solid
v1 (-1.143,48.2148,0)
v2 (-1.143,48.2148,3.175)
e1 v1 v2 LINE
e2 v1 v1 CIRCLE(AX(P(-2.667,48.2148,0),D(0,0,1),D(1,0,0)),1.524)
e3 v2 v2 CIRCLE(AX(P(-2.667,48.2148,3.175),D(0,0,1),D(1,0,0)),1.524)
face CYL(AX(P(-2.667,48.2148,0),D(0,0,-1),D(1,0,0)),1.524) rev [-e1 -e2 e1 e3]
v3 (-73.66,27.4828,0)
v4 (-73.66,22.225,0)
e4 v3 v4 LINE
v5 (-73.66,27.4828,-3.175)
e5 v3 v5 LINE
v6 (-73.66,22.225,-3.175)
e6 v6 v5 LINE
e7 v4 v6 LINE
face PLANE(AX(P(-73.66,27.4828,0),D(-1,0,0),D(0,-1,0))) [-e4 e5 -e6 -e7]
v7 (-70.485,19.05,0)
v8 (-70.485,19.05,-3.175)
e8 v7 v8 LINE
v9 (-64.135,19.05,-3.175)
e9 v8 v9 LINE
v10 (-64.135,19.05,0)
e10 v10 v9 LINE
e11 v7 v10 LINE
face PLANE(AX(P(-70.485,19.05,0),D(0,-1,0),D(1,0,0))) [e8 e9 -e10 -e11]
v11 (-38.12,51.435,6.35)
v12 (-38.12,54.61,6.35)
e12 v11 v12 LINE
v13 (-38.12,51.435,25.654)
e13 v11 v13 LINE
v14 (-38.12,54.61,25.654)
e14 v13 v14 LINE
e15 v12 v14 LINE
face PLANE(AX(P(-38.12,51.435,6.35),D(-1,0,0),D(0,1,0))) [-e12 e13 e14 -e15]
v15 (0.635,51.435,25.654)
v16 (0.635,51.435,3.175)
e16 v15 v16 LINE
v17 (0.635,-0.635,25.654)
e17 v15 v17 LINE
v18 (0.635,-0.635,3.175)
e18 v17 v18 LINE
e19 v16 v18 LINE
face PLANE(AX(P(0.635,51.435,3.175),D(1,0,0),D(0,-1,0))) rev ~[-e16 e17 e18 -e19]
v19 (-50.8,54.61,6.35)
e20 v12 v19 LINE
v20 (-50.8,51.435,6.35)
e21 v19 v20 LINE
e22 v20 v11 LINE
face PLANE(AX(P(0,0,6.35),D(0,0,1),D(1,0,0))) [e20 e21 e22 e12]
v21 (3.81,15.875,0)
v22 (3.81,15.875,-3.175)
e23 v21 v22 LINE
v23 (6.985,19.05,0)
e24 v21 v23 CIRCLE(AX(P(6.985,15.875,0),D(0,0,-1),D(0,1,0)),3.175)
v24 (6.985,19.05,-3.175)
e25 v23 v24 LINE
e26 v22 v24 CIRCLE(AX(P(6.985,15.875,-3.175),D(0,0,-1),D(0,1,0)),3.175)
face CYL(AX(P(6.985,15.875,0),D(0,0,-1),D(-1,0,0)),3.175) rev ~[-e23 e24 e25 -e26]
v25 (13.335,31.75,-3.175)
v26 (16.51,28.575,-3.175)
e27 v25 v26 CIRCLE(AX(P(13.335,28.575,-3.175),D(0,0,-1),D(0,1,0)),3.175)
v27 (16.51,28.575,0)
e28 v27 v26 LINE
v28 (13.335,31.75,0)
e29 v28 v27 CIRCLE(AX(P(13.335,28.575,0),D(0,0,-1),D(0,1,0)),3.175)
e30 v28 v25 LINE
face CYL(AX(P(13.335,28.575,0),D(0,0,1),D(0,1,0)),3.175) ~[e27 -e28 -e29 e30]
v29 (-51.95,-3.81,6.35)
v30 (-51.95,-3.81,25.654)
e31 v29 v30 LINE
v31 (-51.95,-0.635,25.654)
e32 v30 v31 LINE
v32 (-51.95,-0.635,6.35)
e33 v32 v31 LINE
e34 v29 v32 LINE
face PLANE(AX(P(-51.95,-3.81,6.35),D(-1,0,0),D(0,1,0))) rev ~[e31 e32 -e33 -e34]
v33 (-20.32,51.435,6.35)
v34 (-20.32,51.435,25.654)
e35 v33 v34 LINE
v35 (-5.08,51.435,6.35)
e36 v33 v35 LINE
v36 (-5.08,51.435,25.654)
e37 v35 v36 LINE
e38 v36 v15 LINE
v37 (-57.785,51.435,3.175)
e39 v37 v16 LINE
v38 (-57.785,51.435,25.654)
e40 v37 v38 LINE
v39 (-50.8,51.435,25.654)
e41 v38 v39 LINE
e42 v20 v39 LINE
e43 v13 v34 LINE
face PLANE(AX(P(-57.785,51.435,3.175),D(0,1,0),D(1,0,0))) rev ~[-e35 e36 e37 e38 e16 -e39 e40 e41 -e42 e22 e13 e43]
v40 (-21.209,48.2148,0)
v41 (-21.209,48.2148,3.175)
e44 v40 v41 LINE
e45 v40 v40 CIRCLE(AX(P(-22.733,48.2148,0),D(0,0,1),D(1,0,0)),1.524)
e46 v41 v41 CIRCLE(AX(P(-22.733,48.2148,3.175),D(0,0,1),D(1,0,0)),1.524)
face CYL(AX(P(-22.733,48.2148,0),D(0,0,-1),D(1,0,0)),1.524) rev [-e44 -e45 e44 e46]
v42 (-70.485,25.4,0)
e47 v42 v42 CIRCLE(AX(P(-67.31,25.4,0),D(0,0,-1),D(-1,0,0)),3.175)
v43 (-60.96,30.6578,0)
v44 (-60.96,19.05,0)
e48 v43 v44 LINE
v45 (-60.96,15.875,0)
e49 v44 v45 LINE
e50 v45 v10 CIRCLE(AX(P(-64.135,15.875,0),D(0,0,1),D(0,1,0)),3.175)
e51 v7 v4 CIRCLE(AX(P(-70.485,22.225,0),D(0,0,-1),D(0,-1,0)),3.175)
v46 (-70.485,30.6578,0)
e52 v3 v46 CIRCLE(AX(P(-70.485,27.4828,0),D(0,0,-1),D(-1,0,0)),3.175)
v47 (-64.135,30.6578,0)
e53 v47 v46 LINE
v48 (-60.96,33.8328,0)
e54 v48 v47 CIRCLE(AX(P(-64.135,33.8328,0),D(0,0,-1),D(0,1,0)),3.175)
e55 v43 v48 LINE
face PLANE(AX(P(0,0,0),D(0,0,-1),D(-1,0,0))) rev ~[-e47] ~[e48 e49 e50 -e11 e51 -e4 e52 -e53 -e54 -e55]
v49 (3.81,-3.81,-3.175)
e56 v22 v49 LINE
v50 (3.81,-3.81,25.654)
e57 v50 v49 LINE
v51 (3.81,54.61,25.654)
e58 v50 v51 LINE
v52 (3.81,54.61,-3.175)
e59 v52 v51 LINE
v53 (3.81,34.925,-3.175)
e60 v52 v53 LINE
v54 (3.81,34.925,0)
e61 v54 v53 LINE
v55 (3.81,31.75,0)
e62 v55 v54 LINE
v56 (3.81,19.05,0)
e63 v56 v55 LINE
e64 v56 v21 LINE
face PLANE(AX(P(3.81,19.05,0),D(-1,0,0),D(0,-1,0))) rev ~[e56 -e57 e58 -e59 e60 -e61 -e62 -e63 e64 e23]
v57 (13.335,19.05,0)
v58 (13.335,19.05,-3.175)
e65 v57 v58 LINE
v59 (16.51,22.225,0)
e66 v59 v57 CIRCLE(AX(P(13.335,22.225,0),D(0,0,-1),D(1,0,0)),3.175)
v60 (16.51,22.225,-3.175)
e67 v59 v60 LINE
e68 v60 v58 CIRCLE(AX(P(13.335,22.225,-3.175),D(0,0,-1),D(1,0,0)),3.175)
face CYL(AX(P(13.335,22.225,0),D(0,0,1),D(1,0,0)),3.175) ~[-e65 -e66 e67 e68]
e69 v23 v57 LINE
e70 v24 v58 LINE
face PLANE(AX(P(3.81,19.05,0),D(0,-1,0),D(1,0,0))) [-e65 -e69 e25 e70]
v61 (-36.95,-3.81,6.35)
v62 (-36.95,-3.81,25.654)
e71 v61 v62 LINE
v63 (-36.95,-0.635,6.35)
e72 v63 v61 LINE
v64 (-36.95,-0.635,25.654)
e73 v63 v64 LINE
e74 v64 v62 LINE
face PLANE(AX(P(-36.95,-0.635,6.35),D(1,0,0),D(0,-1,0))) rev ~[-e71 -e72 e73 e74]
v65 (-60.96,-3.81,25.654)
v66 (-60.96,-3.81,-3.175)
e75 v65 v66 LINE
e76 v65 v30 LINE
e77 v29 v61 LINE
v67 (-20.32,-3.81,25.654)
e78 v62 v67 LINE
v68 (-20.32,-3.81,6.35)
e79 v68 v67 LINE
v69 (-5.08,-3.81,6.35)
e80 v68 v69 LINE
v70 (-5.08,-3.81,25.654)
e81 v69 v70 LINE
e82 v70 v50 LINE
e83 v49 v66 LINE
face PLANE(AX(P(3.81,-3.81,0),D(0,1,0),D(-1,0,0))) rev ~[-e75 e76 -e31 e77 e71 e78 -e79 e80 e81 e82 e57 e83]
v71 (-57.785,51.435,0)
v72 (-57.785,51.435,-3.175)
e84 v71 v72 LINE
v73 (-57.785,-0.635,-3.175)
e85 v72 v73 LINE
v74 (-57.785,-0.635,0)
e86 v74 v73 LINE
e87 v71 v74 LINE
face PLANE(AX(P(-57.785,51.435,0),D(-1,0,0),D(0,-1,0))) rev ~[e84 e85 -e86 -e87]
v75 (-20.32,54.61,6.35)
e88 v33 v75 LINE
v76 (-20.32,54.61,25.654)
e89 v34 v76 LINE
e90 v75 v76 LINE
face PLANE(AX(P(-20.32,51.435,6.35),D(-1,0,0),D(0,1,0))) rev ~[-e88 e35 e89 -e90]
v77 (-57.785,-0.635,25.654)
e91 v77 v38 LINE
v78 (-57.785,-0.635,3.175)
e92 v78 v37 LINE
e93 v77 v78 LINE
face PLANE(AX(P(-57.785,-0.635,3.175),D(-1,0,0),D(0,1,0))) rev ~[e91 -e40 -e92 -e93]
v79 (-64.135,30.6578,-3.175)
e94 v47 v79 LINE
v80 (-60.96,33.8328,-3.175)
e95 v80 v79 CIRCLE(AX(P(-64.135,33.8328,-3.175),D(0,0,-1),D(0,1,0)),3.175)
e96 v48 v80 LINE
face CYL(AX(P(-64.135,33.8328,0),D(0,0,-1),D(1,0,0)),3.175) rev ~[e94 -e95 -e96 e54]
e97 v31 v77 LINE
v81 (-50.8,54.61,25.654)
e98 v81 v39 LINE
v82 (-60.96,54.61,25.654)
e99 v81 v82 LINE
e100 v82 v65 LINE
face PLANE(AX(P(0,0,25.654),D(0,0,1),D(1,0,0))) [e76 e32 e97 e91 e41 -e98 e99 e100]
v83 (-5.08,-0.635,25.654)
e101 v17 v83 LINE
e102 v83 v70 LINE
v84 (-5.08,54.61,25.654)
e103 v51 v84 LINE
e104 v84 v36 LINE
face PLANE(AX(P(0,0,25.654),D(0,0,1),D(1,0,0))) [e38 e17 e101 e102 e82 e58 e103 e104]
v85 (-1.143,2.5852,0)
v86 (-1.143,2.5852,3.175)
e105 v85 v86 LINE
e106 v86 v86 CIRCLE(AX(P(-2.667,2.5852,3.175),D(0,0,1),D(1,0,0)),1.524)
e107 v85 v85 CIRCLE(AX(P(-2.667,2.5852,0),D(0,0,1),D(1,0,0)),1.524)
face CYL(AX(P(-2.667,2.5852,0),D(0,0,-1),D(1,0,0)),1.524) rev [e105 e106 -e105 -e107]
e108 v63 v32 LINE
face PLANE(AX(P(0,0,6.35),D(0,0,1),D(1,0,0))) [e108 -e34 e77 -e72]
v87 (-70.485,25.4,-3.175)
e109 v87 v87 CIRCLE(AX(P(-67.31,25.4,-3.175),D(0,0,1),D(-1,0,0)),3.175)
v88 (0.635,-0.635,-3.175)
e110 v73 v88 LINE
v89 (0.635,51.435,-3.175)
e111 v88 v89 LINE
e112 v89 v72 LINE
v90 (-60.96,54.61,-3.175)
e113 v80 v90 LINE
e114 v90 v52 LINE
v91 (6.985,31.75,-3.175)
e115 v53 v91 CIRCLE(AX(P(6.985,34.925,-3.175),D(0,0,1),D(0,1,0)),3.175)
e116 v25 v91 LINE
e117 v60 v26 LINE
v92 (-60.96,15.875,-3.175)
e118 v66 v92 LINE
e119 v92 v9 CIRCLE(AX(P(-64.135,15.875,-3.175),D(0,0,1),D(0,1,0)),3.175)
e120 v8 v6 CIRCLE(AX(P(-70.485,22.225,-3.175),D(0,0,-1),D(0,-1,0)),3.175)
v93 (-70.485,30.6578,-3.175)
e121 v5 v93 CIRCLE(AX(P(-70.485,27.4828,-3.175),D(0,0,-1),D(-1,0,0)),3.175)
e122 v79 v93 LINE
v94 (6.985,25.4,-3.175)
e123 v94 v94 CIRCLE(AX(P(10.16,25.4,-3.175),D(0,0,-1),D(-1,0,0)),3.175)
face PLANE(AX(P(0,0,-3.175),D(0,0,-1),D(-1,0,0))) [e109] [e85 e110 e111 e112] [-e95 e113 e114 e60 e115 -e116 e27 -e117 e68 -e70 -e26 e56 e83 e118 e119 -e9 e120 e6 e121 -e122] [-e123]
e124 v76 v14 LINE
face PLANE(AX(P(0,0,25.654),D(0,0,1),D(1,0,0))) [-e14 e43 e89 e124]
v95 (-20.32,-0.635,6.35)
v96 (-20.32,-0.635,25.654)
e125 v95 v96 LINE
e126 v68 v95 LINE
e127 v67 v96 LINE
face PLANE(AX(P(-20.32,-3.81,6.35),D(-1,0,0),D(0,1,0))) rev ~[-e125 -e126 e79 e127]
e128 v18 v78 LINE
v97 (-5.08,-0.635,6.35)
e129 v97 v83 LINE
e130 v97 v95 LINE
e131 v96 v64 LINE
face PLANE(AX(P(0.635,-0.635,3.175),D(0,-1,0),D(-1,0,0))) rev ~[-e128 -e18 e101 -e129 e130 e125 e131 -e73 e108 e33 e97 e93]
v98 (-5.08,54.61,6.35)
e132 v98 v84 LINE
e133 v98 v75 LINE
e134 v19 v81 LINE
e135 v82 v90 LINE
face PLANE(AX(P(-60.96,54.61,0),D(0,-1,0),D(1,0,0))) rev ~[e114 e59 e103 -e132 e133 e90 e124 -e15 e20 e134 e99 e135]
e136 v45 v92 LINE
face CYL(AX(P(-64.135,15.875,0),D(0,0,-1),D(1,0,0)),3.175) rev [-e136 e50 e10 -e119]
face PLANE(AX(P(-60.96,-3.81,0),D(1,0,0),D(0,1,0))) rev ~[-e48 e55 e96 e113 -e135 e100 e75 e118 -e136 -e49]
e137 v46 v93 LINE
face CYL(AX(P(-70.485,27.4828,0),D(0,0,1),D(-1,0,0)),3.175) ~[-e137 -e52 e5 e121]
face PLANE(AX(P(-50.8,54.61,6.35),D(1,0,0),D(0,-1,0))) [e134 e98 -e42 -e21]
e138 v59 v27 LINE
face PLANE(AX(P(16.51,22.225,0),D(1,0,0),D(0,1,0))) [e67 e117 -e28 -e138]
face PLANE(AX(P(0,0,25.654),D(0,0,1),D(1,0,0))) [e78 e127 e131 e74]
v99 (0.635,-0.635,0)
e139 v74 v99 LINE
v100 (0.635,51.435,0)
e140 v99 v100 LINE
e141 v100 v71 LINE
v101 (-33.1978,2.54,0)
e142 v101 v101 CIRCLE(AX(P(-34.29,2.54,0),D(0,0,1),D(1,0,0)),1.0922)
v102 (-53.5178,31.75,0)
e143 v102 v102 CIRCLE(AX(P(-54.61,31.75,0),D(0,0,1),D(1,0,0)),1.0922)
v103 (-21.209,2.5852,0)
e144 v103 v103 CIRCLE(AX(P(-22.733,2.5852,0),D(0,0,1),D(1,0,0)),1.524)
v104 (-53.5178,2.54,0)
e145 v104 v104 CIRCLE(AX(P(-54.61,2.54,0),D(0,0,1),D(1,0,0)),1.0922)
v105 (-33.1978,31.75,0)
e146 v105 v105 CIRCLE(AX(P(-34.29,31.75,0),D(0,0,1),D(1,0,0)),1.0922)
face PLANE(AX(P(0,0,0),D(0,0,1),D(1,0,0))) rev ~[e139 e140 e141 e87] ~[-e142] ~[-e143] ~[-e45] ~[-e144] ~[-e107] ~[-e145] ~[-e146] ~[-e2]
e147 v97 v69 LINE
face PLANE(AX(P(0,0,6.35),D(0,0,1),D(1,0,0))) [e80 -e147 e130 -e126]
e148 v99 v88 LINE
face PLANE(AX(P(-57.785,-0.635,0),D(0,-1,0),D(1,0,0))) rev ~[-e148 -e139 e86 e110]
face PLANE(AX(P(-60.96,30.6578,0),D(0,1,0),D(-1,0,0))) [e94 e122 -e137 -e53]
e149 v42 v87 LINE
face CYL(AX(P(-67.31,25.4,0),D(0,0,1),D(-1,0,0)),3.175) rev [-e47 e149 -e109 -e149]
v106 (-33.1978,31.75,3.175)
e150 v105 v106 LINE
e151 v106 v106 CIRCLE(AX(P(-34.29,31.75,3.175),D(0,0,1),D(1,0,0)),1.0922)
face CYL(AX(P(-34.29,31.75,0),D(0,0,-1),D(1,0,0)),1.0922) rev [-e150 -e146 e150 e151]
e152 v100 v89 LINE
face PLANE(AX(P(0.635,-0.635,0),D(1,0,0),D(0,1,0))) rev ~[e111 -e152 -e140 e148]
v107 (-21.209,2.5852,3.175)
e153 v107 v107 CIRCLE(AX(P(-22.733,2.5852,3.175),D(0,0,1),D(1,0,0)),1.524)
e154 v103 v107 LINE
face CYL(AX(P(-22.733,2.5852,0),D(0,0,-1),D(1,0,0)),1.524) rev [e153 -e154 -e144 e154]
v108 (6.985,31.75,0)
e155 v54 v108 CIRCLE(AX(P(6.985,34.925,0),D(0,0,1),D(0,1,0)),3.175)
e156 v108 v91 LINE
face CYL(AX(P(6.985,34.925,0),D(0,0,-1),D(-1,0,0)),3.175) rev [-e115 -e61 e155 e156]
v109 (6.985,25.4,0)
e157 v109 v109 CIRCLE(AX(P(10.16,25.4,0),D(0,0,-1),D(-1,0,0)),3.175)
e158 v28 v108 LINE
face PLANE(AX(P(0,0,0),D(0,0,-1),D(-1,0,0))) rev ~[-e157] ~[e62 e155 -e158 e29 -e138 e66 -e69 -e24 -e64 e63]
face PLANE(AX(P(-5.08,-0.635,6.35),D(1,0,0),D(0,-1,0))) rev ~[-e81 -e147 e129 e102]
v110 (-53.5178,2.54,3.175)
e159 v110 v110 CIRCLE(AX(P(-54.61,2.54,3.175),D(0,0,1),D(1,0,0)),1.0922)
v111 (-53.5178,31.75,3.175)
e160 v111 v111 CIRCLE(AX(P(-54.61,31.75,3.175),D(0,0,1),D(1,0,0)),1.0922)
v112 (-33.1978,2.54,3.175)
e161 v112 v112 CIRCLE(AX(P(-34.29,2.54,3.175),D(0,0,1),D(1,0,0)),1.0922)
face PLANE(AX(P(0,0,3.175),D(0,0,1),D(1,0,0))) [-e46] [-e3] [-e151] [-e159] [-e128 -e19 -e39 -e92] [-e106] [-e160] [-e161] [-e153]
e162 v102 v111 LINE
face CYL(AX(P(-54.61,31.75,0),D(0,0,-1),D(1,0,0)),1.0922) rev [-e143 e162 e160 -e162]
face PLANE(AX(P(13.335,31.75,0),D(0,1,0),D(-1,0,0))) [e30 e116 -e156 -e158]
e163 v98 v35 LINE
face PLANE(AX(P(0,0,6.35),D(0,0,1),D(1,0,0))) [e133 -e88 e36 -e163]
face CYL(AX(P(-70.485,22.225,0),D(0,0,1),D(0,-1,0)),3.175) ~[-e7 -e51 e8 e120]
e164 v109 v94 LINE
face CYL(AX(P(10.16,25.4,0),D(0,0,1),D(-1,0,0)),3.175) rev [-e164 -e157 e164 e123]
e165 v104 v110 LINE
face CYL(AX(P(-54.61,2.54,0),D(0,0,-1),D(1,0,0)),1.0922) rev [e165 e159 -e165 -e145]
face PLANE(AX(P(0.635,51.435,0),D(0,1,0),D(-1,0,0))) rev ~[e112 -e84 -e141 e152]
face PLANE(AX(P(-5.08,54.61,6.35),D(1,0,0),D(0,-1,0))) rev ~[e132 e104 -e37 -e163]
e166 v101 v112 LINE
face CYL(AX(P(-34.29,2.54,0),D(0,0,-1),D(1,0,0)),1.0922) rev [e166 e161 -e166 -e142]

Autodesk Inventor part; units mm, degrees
ref_plane "YZ Plane" through (0, 0, 0) normal (1, 0, 0) x (0, 1, 0)
ref_plane "XZ Plane" through (0, 0, 0) normal (0, 1, 0) x (-1, 0, 0)
ref_plane "XY Plane" through (0, 0, 0) normal (0, 0, 1) x (1, 0, 0)
sketch "0" plane through (0, 0, 0) normal (0, 0, 1) x (1, 0, 0)
  line L0 (-1.8843, 38.1841) -> (-1.8843, 30.5641)
  line L1 (-1.8843, 30.5641) -> (-4.4243, 30.5641)
  line L2 (-4.4243, 30.5641) -> (-4.4243, 38.1841)
  line L3 (-4.4243, 38.1841) -> (-1.8843, 38.1841)
  line L4 (0, 50.8) -> (-25.4, 50.8)
  line L5 (-25.4, 50.8) -> (-25.4, 0)
  line L6 (-25.4, 0) -> (0, 0)
  line L7 (0, 0) -> (0, 50.8)
  line L8 (-20.2946, 10.414) -> (-20.2946, 28.194)
  line L9 (-20.2946, 28.194) -> (-5.1054, 28.194)
  line L10 (-5.1054, 28.194) -> (-5.1054, 10.414)
  line L11 (-5.1054, 10.414) -> (-5.08, 10.414)
  line L12 (-5.08, 10.414) -> (-5.08, 2.667)
  line L13 (-5.08, 2.667) -> (-20.32, 2.667)
  line L14 (-20.32, 2.667) -> (-20.32, 10.414)
  line L15 (-20.32, 10.414) -> (-20.2946, 10.414)
  line L16 (-20.32, 41.275) -> (-20.32, 49.022)
  line L17 (-20.32, 49.022) -> (-5.08, 49.022)
  line L18 (-5.08, 49.022) -> (-5.08, 41.275)
  line L19 (-5.08, 41.275) -> (-20.32, 41.275)
  circle A0 centre (-22.733, 2.5852) radius 1.524
  circle A1 centre (-2.667, 2.5852) radius 1.524
  circle A2 centre (-22.733, 48.2148) radius 1.524
  circle A3 centre (-2.667, 48.2148) radius 1.524
  line L20 (-51.95, 5.718) -> (-51.95, 1.218)
  line L21 (-36.95, 1.218) -> (-51.95, 1.218)
  line L22 (-36.95, 5.718) -> (-36.95, 1.218)
  line L23 (-36.95, 5.718) -> (-51.95, 5.718)
  circle A4 centre (-39.45, 3.468) radius 1.775
  circle A5 centre (-44.45, 3.468) radius 1.775
  circle A6 centre (-49.45, 3.468) radius 1.775
  line L24 (-36.95, 7.268) -> (-51.95, 7.268)
  circle A7 centre (-34.29, 2.54) radius 1.0922
  circle A8 centre (-54.61, 2.54) radius 1.0922
  circle A9 centre (-54.61, 31.75) radius 1.0922
  circle A10 centre (-34.29, 31.75) radius 1.0922
  line L25 (-48.655, 31.516) -> (-48.28, 32.141)
  line L26 (-48.28, 32.141) -> (-48.24, 32.141)
  line L27 (-48.24, 32.141) -> (-47.865, 31.516)
  line L28 (-47.865, 31.516) -> (-46.115, 31.516)
  line L29 (-46.115, 31.516) -> (-45.74, 32.141)
  line L30 (-45.74, 32.141) -> (-45.7, 32.141)
  line L31 (-45.7, 32.141) -> (-45.325, 31.516)
  line L32 (-45.325, 31.516) -> (-43.575, 31.516)
  line L33 (-43.575, 31.516) -> (-43.2, 32.141)
  line L34 (-43.2, 32.141) -> (-43.16, 32.141)
  line L35 (-43.16, 32.141) -> (-42.785, 31.516)
  line L36 (-42.785, 31.516) -> (-41.035, 31.516)
  line L37 (-41.035, 31.516) -> (-40.66, 32.141)
  line L38 (-40.66, 32.141) -> (-40.62, 32.141)
  line L39 (-40.62, 32.141) -> (-40.245, 31.516)
  line L40 (-40.245, 31.516) -> (-38.495, 31.516)
  line L41 (-38.495, 31.516) -> (-38.12, 32.141)
  line L42 (-38.12, 32.141) -> (-38.1, 32.141)
  line L43 (-38.1, 32.141) -> (-38.1, 33.391)
  line L44 (-38.1, 33.391) -> (-38.12, 33.391)
  line L45 (-38.12, 33.391) -> (-38.495, 34.016)
  line L46 (-38.495, 34.016) -> (-40.245, 34.016)
  line L47 (-40.245, 34.016) -> (-40.62, 33.391)
  line L48 (-40.62, 33.391) -> (-40.66, 33.391)
  line L49 (-40.66, 33.391) -> (-41.035, 34.016)
  line L50 (-41.035, 34.016) -> (-42.785, 34.016)
  line L51 (-42.785, 34.016) -> (-43.16, 33.391)
  line L52 (-43.16, 33.391) -> (-43.2, 33.391)
  line L53 (-43.2, 33.391) -> (-43.575, 34.016)
  line L54 (-43.575, 34.016) -> (-45.325, 34.016)
  line L55 (-45.325, 34.016) -> (-45.7, 33.391)
  line L56 (-45.7, 33.391) -> (-45.74, 33.391)
  line L57 (-45.74, 33.391) -> (-46.115, 34.016)
  line L58 (-46.115, 34.016) -> (-47.865, 34.016)
  line L59 (-47.865, 34.016) -> (-48.24, 33.391)
  line L60 (-48.24, 33.391) -> (-48.28, 33.391)
  line L61 (-48.28, 33.391) -> (-48.655, 34.016)
  line L62 (-48.655, 34.016) -> (-50.405, 34.016)
  line L63 (-50.405, 34.016) -> (-50.78, 33.391)
  line L64 (-50.78, 33.391) -> (-50.8, 33.391)
  line L65 (-50.8, 33.391) -> (-50.8, 32.141)
  line L66 (-50.8, 32.141) -> (-50.78, 32.141)
  line L67 (-50.78, 32.141) -> (-50.405, 31.516)
  line L68 (-50.405, 31.516) -> (-48.655, 31.516)
  line L69 (-49.205, 32.441) -> (-49.205, 33.091)
  line L70 (-49.205, 32.441) -> (-49.855, 32.441)
  line L71 (-49.855, 32.441) -> (-49.855, 33.091)
  line L72 (-49.205, 33.091) -> (-49.855, 33.091)
  line L73 (-44.125, 32.441) -> (-44.125, 33.091)
  line L74 (-44.125, 32.441) -> (-44.775, 32.441)
  line L75 (-44.775, 32.441) -> (-44.775, 33.091)
  line L76 (-44.125, 33.091) -> (-44.775, 33.091)
  line L77 (-39.045, 32.441) -> (-39.045, 33.091)
  line L78 (-39.045, 32.441) -> (-39.695, 32.441)
  line L79 (-39.695, 32.441) -> (-39.695, 33.091)
  line L80 (-39.045, 33.091) -> (-39.695, 33.091)
  line L81 (-41.585, 32.441) -> (-41.585, 33.091)
  line L82 (-41.585, 32.441) -> (-42.235, 32.441)
  line L83 (-42.235, 32.441) -> (-42.235, 33.091)
  line L84 (-41.585, 33.091) -> (-42.235, 33.091)
  line L85 (-46.665, 32.441) -> (-46.665, 33.091)
  line L86 (-46.665, 32.441) -> (-47.315, 32.441)
  line L87 (-47.315, 32.441) -> (-47.315, 33.091)
  line L88 (-46.665, 33.091) -> (-47.315, 33.091)
  line L89 (-31.75, 34.29) -> (-57.15, 34.29)
  line L90 (-57.15, 34.29) -> (-57.15, 0)
  line L91 (-57.15, 0) -> (-31.75, 0)
  line L92 (-31.75, 0) -> (-31.75, 34.29)
  line L93 (-43.3742, 24.6136) -> (-43.3742, 24.6236)
  line L94 (-43.3742, 24.6236) -> (-42.8742, 24.6236)
  line L95 (-42.8742, 24.6236) -> (-42.8742, 24.6136)
  line L96 (-43.3742, 24.6136) -> (-42.8742, 24.6136)
  line L97 (-42.4242, 24.6136) -> (-42.4242, 24.6236)
  line L98 (-42.4242, 24.6236) -> (-41.9242, 24.6236)
  line L99 (-41.9242, 24.6236) -> (-41.9242, 24.6136)
  line L100 (-42.4242, 24.6136) -> (-41.9242, 24.6136)
  line L101 (-41.4742, 24.6136) -> (-41.4742, 24.6236)
  line L102 (-41.4742, 24.6236) -> (-40.9742, 24.6236)
  line L103 (-40.9742, 24.6236) -> (-40.9742, 24.6136)
  line L104 (-41.4742, 24.6136) -> (-40.9742, 24.6136)
  line L105 (-48.714, 27.3595) -> (-48.714, 27.171)
  line L106 (-48.714, 27.3595) -> (-48.314, 27.3595)
  line L107 (-48.314, 27.3595) -> (-48.314, 27.171)
  line L108 (-48.314, 27.171) -> (-48.714, 27.171)
  line L109 (-48.314, 24.6595) -> (-48.314, 24.848)
  line L110 (-48.714, 24.6595) -> (-48.314, 24.6595)
  line L111 (-48.714, 24.6595) -> (-48.714, 24.848)
  line L112 (-48.714, 24.848) -> (-48.314, 24.848)
  line L113 (-51.0762, 27.3595) -> (-51.0762, 27.171)
  line L114 (-51.0762, 27.3595) -> (-50.6762, 27.3595)
  line L115 (-50.6762, 27.3595) -> (-50.6762, 27.171)
  line L116 (-50.6762, 27.171) -> (-51.0762, 27.171)
  line L117 (-50.6762, 24.6595) -> (-50.6762, 24.848)
  line L118 (-51.0762, 24.6595) -> (-50.6762, 24.6595)
  line L119 (-51.0762, 24.6595) -> (-51.0762, 24.848)
  line L120 (-51.0762, 24.848) -> (-50.6762, 24.848)
  line L121 (-33.109, 6.6231) -> (-33.109, 5.8231)
  line L122 (-33.109, 5.8231) -> (-34.709, 5.8231)
  line L123 (-34.709, 5.8231) -> (-34.709, 6.6231)
  line L124 (-34.709, 6.6231) -> (-33.109, 6.6231)
  line L125 (-47.014, 30.867) -> (-46.714, 30.867)
  line L126 (-46.714, 30.867) -> (-45.614, 30.867)
  line L127 (-45.614, 30.867) -> (-45.314, 30.867)
  line L128 (-45.314, 30.867) -> (-45.314, 29.967)
  line L129 (-45.614, 29.967) -> (-45.314, 29.967)
  line L130 (-45.614, 29.967) -> (-46.714, 29.967)
  line L131 (-47.014, 29.967) -> (-46.714, 29.967)
  line L132 (-47.014, 30.867) -> (-47.014, 29.967)
  line L133 (-47.0018, 29.1022) -> (-46.7018, 29.1022)
  line L134 (-46.7018, 29.1022) -> (-45.6018, 29.1022)
  line L135 (-45.6018, 29.1022) -> (-45.3018, 29.1022)
  line L136 (-45.3018, 29.1022) -> (-45.3018, 28.2022)
  line L137 (-45.6018, 28.2022) -> (-45.3018, 28.2022)
  line L138 (-45.6018, 28.2022) -> (-46.7018, 28.2022)
  line L139 (-47.0018, 28.2022) -> (-46.7018, 28.2022)
  line L140 (-47.0018, 29.1022) -> (-47.0018, 28.2022)
  line L141 (-38.4374, 30.141) -> (-38.4374, 29.041)
  line L142 (-38.4374, 29.041) -> (-38.4374, 28.741)
  line L143 (-38.4374, 28.741) -> (-39.3374, 28.741)
  line L144 (-39.3374, 29.041) -> (-39.3374, 28.741)
  line L145 (-39.3374, 29.041) -> (-39.3374, 30.141)
  line L146 (-39.3374, 30.441) -> (-39.3374, 30.141)
  line L147 (-38.4374, 30.441) -> (-39.3374, 30.441)
  line L148 (-38.4374, 30.441) -> (-38.4374, 30.141)
  line L149 (-34.164, 25.019) -> (-33.654, 25.019)
  line L150 (-34.164, 25.029) -> (-34.164, 25.019)
  line L151 (-34.164, 25.029) -> (-33.654, 25.029)
  line L152 (-33.654, 25.019) -> (-33.654, 25.029)
  line L153 (-34.569, 27.519) -> (-35.079, 27.519)
  line L154 (-34.569, 27.519) -> (-34.569, 27.509)
  line L155 (-34.569, 27.509) -> (-35.079, 27.509)
  line L156 (-35.079, 27.519) -> (-35.079, 27.509)
  line L157 (-32.739, 27.519) -> (-33.249, 27.519)
  line L158 (-32.739, 27.519) -> (-32.739, 27.509)
  line L159 (-32.739, 27.509) -> (-33.249, 27.509)
  line L160 (-33.249, 27.519) -> (-33.249, 27.509)
  line L161 (-48.862, 30.466) -> (-47.912, 30.466)
  line L162 (-47.912, 30.466) -> (-47.912, 28.716)
  line L163 (-47.912, 28.716) -> (-48.862, 28.716)
  line L164 (-48.862, 28.716) -> (-48.862, 30.466)
  line L165 (-40.988, 30.466) -> (-40.038, 30.466)
  line L166 (-40.038, 30.466) -> (-40.038, 28.716)
  line L167 (-40.038, 28.716) -> (-40.988, 28.716)
  line L168 (-40.988, 28.716) -> (-40.988, 30.466)
  line L169 (-42.385, 30.466) -> (-41.435, 30.466)
  line L170 (-41.435, 30.466) -> (-41.435, 28.716)
  line L171 (-41.435, 28.716) -> (-42.385, 28.716)
  line L172 (-42.385, 28.716) -> (-42.385, 30.466)
  line L173 (-37.324, 28.354) -> (-37.324, 29.304)
  line L174 (-37.324, 29.304) -> (-35.574, 29.304)
  line L175 (-35.574, 29.304) -> (-35.574, 28.354)
  line L176 (-35.574, 28.354) -> (-37.324, 28.354)
  line L177 (-50.4114, 30.466) -> (-49.4614, 30.466)
  line L178 (-49.4614, 30.466) -> (-49.4614, 28.716)
  line L179 (-49.4614, 28.716) -> (-50.4114, 28.716)
  line L180 (-50.4114, 28.716) -> (-50.4114, 30.466)
  line L181 (-55.612, 24.671) -> (-55.612, 25.621)
  line L182 (-55.612, 25.621) -> (-53.862, 25.621)
  line L183 (-53.862, 25.621) -> (-53.862, 24.671)
  line L184 (-53.862, 24.671) -> (-55.612, 24.671)
  line L185 (-43.7312, 30.466) -> (-42.7812, 30.466)
  line L186 (-42.7812, 30.466) -> (-42.7812, 28.716)
  line L187 (-42.7812, 28.716) -> (-43.7312, 28.716)
  line L188 (-43.7312, 28.716) -> (-43.7312, 30.466)
  line L189 (-41.4742, 27.558) -> (-40.9742, 27.558)
  line L190 (-40.9742, 27.548) -> (-40.9742, 27.558)
  line L191 (-41.4742, 27.548) -> (-40.9742, 27.548)
  line L192 (-41.4742, 27.558) -> (-41.4742, 27.548)
  line L193 (-42.4242, 27.558) -> (-41.9242, 27.558)
  line L194 (-41.9242, 27.548) -> (-41.9242, 27.558)
  line L195 (-42.4242, 27.548) -> (-41.9242, 27.548)
  line L196 (-42.4242, 27.558) -> (-42.4242, 27.548)
  line L197 (-43.3742, 27.558) -> (-42.8742, 27.558)
  line L198 (-42.8742, 27.548) -> (-42.8742, 27.558)
  line L199 (-43.3742, 27.548) -> (-42.8742, 27.548)
  line L200 (-43.3742, 27.558) -> (-43.3742, 27.548)
  line L201 (-38.9509, 26.6649) -> (-38.9509, 26.1671)
  line L202 (-38.9409, 26.6649) -> (-38.9509, 26.6649)
  line L203 (-38.9409, 26.6649) -> (-38.9409, 26.1671)
  line L204 (-38.9509, 26.1671) -> (-38.9409, 26.1671)
  line L205 (-38.9509, 27.6174) -> (-38.9509, 27.1196)
  line L206 (-38.9409, 27.6174) -> (-38.9509, 27.6174)
  line L207 (-38.9409, 27.6174) -> (-38.9409, 27.1196)
  line L208 (-38.9509, 27.1196) -> (-38.9409, 27.1196)
  line L209 (-38.9509, 25.7124) -> (-38.9509, 25.2146)
  line L210 (-38.9409, 25.7124) -> (-38.9509, 25.7124)
  line L211 (-38.9409, 25.7124) -> (-38.9409, 25.2146)
  line L212 (-38.9509, 25.2146) -> (-38.9409, 25.2146)
  line L213 (-35.9637, 27.6174) -> (-35.9637, 27.1196)
  line L214 (-35.9537, 27.6174) -> (-35.9637, 27.6174)
  line L215 (-35.9537, 27.6174) -> (-35.9537, 27.1196)
  line L216 (-35.9637, 27.1196) -> (-35.9537, 27.1196)
  line L217 (-35.9637, 25.7124) -> (-35.9637, 25.2146)
  line L218 (-35.9537, 25.7124) -> (-35.9637, 25.7124)
  line L219 (-35.9537, 25.7124) -> (-35.9537, 25.2146)
  line L220 (-35.9637, 25.2146) -> (-35.9537, 25.2146)
  line L221 (-45.9984, 27.3304) -> (-46.5084, 27.3304)
  line L222 (-45.9984, 27.3204) -> (-45.9984, 27.3304)
  line L223 (-45.9984, 27.3204) -> (-46.5084, 27.3204)
  line L224 (-46.5084, 27.3304) -> (-46.5084, 27.3204)
  line L225 (-45.5934, 24.8304) -> (-45.0834, 24.8304)
  line L226 (-45.5934, 24.8304) -> (-45.5934, 24.8404)
  line L227 (-45.5934, 24.8404) -> (-45.0834, 24.8404)
  line L228 (-45.0834, 24.8304) -> (-45.0834, 24.8404)
  line L229 (-47.4234, 24.8304) -> (-46.9134, 24.8304)
  line L230 (-47.4234, 24.8304) -> (-47.4234, 24.8404)
  line L231 (-47.4234, 24.8404) -> (-46.9134, 24.8404)
  line L232 (-46.9134, 24.8304) -> (-46.9134, 24.8404)
  circle A11 centre (-53.0606, 27.8892) radius 0.508
  circle A12 centre (-44.45, 3.068) radius 0.889
  circle A13 centre (-39.45, 3.068) radius 0.889
  circle A14 centre (-49.45, 3.068) radius 0.889
  circle A15 centre (-39.37, 32.766) radius 0.508
  circle A16 centre (-55.6006, 27.8892) radius 0.508
  circle A17 centre (-50.324, 21.748) radius 0.762
  circle A18 centre (-38.124, 21.748) radius 0.762
  circle A19 centre (-38.124, 9.748) radius 0.762
  circle A20 centre (-50.324, 9.748) radius 0.762
  circle A21 centre (-52.324, 15.748) radius 0.762
  circle A22 centre (-54.61, 31.75) radius 1.0922
  circle A23 centre (-34.29, 31.75) radius 1.0922
  circle A24 centre (-54.61, 2.54) radius 1.0922
  circle A25 centre (-49.53, 4.826) radius 0.508
  circle A26 centre (-44.45, 4.826) radius 0.508
  circle A27 centre (-41.91, 32.766) radius 0.508
  circle A28 centre (-44.45, 32.766) radius 0.508
  circle A29 centre (-46.99, 32.766) radius 0.508
  circle A30 centre (-49.53, 32.766) radius 0.508
  circle A31 centre (-34.29, 2.54) radius 1.0922
  circle A32 centre (-39.37, 4.826) radius 0.508
  line L233 (-25.4, 0) -> (-31.75, 0)
  line L234 (-31.75, 0) -> (-31.75, 12.7114)
  line L235 (-31.75, 12.7114) -> (-25.4, 12.7114)
  line L236 (-25.4, 12.7114) -> (-25.4, 0)
  point P0 (-57.15, 34.29)
  dimension "d0" = 6.35
extrude "Extrusion1" add sketch "0" along normal blind 3.175 contours L0 L1 L2 L3 | L7 L6 L5 L4 | L92 L91 L90 L89 | L93 L94 L95 L96 | L97 L98 L99 L100 | L101 L102 L103 L104 | L106 L107 L108 L105 | L110 L111 L112 L109 | L114 L115 L116 L113 | L118 L119 L120 L117 | L121 L122 L123 L124 | L125 L126 L127 L128 L129 L130 L131 L132 | L133 L134 L135 L136 L137 L138 L139 L140 | L141 L142 L143 L144 L145 L146 L147 L148 | L150 L151 L152 L149 | L154 L155 L156 L153 | L161 L162 L163 L164 | L165 L166 L167 L168 | L169 L170 L171 L172 | L173 L174 L175 L176 | L177 L178 L179 L180 | L181 L182 L183 L184 | L185 L186 L187 L188 | L189 L190 L191 L192 | L193 L194 L195 L196 | L197 L198 L199 L200 | L202 L203 L204 L201 | L206 L207 L208 L205 | L210 L211 L212 L209 | L214 L215 L216 L213 | L218 L219 L220 L217 | L222 L223 L224 L221 | L226 L227 L228 L225 | L230 L231 L232 L229 | A11 | A16 | A17 | A18 | A19 | A20 | A21
sketch "Sketch3" plane through (0, 0, 3.175) normal (0, 0, 1) x (1, 0, 0)
  line L0 (-57.15, 34.29) -> (-57.15, 0) projected
  line L1 (0, 0) -> (0, 50.8) projected
  line L2 (-57.15, 0) -> (0, 0)
  line L3 (0, 0) -> (0, 50.8)
  line L4 (0, 50.8) -> (-57.15, 50.8)
  line L5 (-57.15, 50.8) -> (-57.15, 0)
  line L6 (-57.785, 51.435) -> (0.635, 51.435)
  line L7 (0.635, 51.435) -> (0.635, -0.635)
  line L8 (0.635, -0.635) -> (-57.785, -0.635)
  line L9 (-57.785, -0.635) -> (-57.785, 51.435)
  line L10 (3.81, 54.61) -> (-60.96, 54.61)
  line L11 (-60.96, 54.61) -> (-60.96, -3.81)
  line L12 (-60.96, -3.81) -> (3.81, -3.81)
  line L13 (3.81, -3.81) -> (3.81, 54.61)
  dimension "d3" = 0.635
  dimension "d4" = 3.175
extrude "Extrusion2" add sketch "Sketch3" along normal blind 3.175 contours L13 L12 L11 L10
sketch "Sketch4" plane through (0, 0, 6.35) normal (0, 0, 1) x (1, 0, 0)
  line L0 (-31.75, 0) -> (-31.75, 34.29) projected
  line L1 (-31.75, 34.29) -> (-57.15, 34.29) projected
  line L2 (-57.15, 34.29) -> (-57.15, 0) projected
  line L3 (-57.15, 0) -> (-31.75, 0) projected
  line L4 (-36.95, 5.718) -> (-36.95, 1.218) projected
  line L5 (-36.95, 1.218) -> (-51.95, 1.218) projected
  line L6 (-51.95, 1.218) -> (-51.95, 5.718) projected
  line L7 (-51.95, 5.718) -> (-36.95, 5.718) projected
  line L8 (-48.655, 31.516) -> (-50.405, 31.516) projected
  line L9 (-50.405, 31.516) -> (-50.78, 32.141) projected
  line L10 (-50.78, 32.141) -> (-50.8, 32.141) projected
  line L11 (-50.8, 32.141) -> (-50.8, 33.391) projected
  line L12 (-50.8, 33.391) -> (-50.78, 33.391) projected
  line L13 (-50.78, 33.391) -> (-50.405, 34.016) projected
  line L14 (-50.405, 34.016) -> (-48.655, 34.016) projected
  line L15 (-48.655, 34.016) -> (-48.28, 33.391) projected
  line L16 (-48.28, 33.391) -> (-48.24, 33.391) projected
  line L17 (-48.24, 33.391) -> (-47.865, 34.016) projected
  line L18 (-47.865, 34.016) -> (-46.115, 34.016) projected
  line L19 (-46.115, 34.016) -> (-45.74, 33.391) projected
  line L20 (-45.74, 33.391) -> (-45.7, 33.391) projected
  line L21 (-45.7, 33.391) -> (-45.325, 34.016) projected
  line L22 (-45.325, 34.016) -> (-43.575, 34.016) projected
  line L23 (-43.575, 34.016) -> (-43.2, 33.391) projected
  line L24 (-43.2, 33.391) -> (-43.16, 33.391) projected
  line L25 (-43.16, 33.391) -> (-42.785, 34.016) projected
  line L26 (-42.785, 34.016) -> (-41.035, 34.016) projected
  line L27 (-41.035, 34.016) -> (-40.66, 33.391) projected
  line L28 (-40.66, 33.391) -> (-40.62, 33.391) projected
  line L29 (-40.62, 33.391) -> (-40.245, 34.016) projected
  line L30 (-40.245, 34.016) -> (-38.495, 34.016) projected
  line L31 (-38.495, 34.016) -> (-38.12, 33.391) projected
  line L32 (-38.12, 33.391) -> (-38.1, 33.391) projected
  line L33 (-38.1, 33.391) -> (-38.1, 32.141) projected
  line L34 (-38.1, 32.141) -> (-38.12, 32.141) projected
  line L35 (-38.12, 32.141) -> (-38.495, 31.516) projected
  line L36 (-38.495, 31.516) -> (-40.245, 31.516) projected
  line L37 (-40.245, 31.516) -> (-40.62, 32.141) projected
  line L38 (-40.62, 32.141) -> (-40.66, 32.141) projected
  line L39 (-40.66, 32.141) -> (-41.035, 31.516) projected
  line L40 (-41.035, 31.516) -> (-42.785, 31.516) projected
  line L41 (-42.785, 31.516) -> (-43.16, 32.141) projected
  line L42 (-43.16, 32.141) -> (-43.2, 32.141) projected
  line L43 (-43.2, 32.141) -> (-43.575, 31.516) projected
  line L44 (-43.575, 31.516) -> (-45.325, 31.516) projected
  line L45 (-45.325, 31.516) -> (-45.7, 32.141) projected
  line L46 (-45.7, 32.141) -> (-45.74, 32.141) projected
  line L47 (-45.74, 32.141) -> (-46.115, 31.516) projected
  line L48 (-46.115, 31.516) -> (-47.865, 31.516) projected
  line L49 (-47.865, 31.516) -> (-48.24, 32.141) projected
  line L50 (-48.24, 32.141) -> (-48.28, 32.141) projected
  line L51 (-48.28, 32.141) -> (-48.655, 31.516) projected
  line L52 (-32.739, 27.509) -> (-33.249, 27.509) projected
  line L53 (-33.249, 27.509) -> (-33.249, 27.519) projected
  line L54 (-33.249, 27.519) -> (-32.739, 27.519) projected
  line L55 (-32.739, 27.519) -> (-32.739, 27.509) projected
  circle A0 centre (-54.61, 31.75) radius 1.0922 projected
  circle A1 centre (-34.29, 2.54) radius 1.0922 projected
  circle A2 centre (-54.61, 2.54) radius 1.0922 projected
  circle A3 centre (-34.29, 31.75) radius 1.0922 projected
  line L56 (-25.4, 50.8) -> (-25.4, 0) projected
  line L57 (-25.4, 0) -> (0, 0) projected
  line L58 (0, 0) -> (0, 50.8) projected
  line L59 (0, 50.8) -> (-25.4, 50.8) projected
  circle A4 centre (-2.667, 48.2148) radius 1.524 projected
  circle A5 centre (-22.733, 48.2148) radius 1.524 projected
  circle A6 centre (-2.667, 2.5852) radius 1.524 projected
  circle A7 centre (-22.733, 2.5852) radius 1.524 projected
  line L60 (-20.32, 41.275) -> (-20.32, 49.022) projected
  line L61 (-20.32, 49.022) -> (-5.08, 49.022) projected
  line L62 (-5.08, 49.022) -> (-5.08, 41.275) projected
  line L63 (-5.08, 41.275) -> (-20.32, 41.275) projected
  line L64 (-20.2946, 10.414) -> (-20.2946, 28.194) projected
  line L65 (-20.2946, 28.194) -> (-5.1054, 28.194) projected
  line L66 (-5.1054, 28.194) -> (-5.1054, 10.414) projected
  line L67 (-5.1054, 10.414) -> (-5.08, 10.414) projected
  line L68 (-5.08, 10.414) -> (-5.08, 2.667) projected
  line L69 (-5.08, 2.667) -> (-20.32, 2.667) projected
  line L70 (-20.32, 2.667) -> (-20.32, 10.414) projected
  line L71 (-20.32, 10.414) -> (-20.2946, 10.414) projected
  line L72 (-60.96, 54.61) -> (-60.96, -3.81) projected
  line L73 (-60.96, -3.81) -> (3.81, -3.81) projected
  line L74 (3.81, -3.81) -> (3.81, 54.61) projected
  line L75 (3.81, 54.61) -> (-60.96, 54.61) projected
  line L76 (-57.785, 51.435) -> (0.635, 51.435) projected
  line L77 (0.635, 51.435) -> (0.635, -0.635) projected
  line L78 (0.635, -0.635) -> (-57.785, -0.635) projected
  line L79 (-57.785, -0.635) -> (-57.785, 51.435) projected
  line L80 (-51.95, 1.218) -> (-36.95, 1.218)
  line L81 (-36.95, 1.218) -> (-36.95, -3.81)
  line L82 (-36.95, -3.81) -> (-51.95, -3.81)
  line L83 (-51.95, -3.81) -> (-51.95, 1.218)
  line L84 (-20.32, 2.667) -> (-5.08, 2.667)
  line L85 (-5.08, 2.667) -> (-5.08, -3.81)
  line L86 (-5.08, -3.81) -> (-20.32, -3.81)
  line L87 (-20.32, -3.81) -> (-20.32, 2.667)
  line L88 (-5.08, 49.022) -> (-20.32, 49.022)
  line L89 (-20.32, 49.022) -> (-20.32, 54.61)
  line L90 (-20.32, 54.61) -> (-5.08, 54.61)
  line L91 (-5.08, 54.61) -> (-5.08, 49.022)
  line L92 (-50.8, 32.141) -> (-38.12, 32.141)
  line L93 (-38.12, 32.141) -> (-38.12, 54.61)
  line L94 (-38.12, 54.61) -> (-50.8, 54.61)
  line L95 (-50.8, 54.61) -> (-50.8, 32.141)
  point P0 (-20.32, -0.635)
  point P1 (-36.95, -0.635)
  point P2 (-5.08, 51.435)
  point P3 (-5.08, -0.635)
  point P4 (-38.12, 51.435)
  point P5 (-20.32, 51.435)
  point P6 (-51.95, -0.635)
  point P7 (-50.8, 51.435)
extrude "Extrusion3" add sketch "Sketch4" along normal blind 19.304 contours L78 L87 L73 L81 | L93 L75 L89 L76 | L83 L73 L72 L75 L95 L76 L79 L78 | L78 L77 L76 L91 L75 L74 L73 L85
sketch "Sketch5" plane through (0, 0, 3.175) normal (0, 0, 1) x (1, 0, 0)
  line L0 (-31.75, 0) -> (-31.75, 34.29) projected
  line L1 (-31.75, 34.29) -> (-57.15, 34.29) projected
  line L2 (-57.15, 34.29) -> (-57.15, 0) projected
  line L3 (-57.15, 0) -> (-31.75, 0) projected
  line L4 (-36.95, 5.718) -> (-36.95, 1.218) projected
  line L5 (-36.95, 1.218) -> (-51.95, 1.218) projected
  line L6 (-51.95, 1.218) -> (-51.95, 5.718) projected
  line L7 (-51.95, 5.718) -> (-36.95, 5.718) projected
  line L8 (-48.655, 31.516) -> (-50.405, 31.516) projected
  line L9 (-50.405, 31.516) -> (-50.78, 32.141) projected
  line L10 (-50.78, 32.141) -> (-50.8, 32.141) projected
  line L11 (-50.8, 32.141) -> (-50.8, 33.391) projected
  line L12 (-50.8, 33.391) -> (-50.78, 33.391) projected
  line L13 (-50.78, 33.391) -> (-50.405, 34.016) projected
  line L14 (-50.405, 34.016) -> (-48.655, 34.016) projected
  line L15 (-48.655, 34.016) -> (-48.28, 33.391) projected
  line L16 (-48.28, 33.391) -> (-48.24, 33.391) projected
  line L17 (-48.24, 33.391) -> (-47.865, 34.016) projected
  line L18 (-47.865, 34.016) -> (-46.115, 34.016) projected
  line L19 (-46.115, 34.016) -> (-45.74, 33.391) projected
  line L20 (-45.74, 33.391) -> (-45.7, 33.391) projected
  line L21 (-45.7, 33.391) -> (-45.325, 34.016) projected
  line L22 (-45.325, 34.016) -> (-43.575, 34.016) projected
  line L23 (-43.575, 34.016) -> (-43.2, 33.391) projected
  line L24 (-43.2, 33.391) -> (-43.16, 33.391) projected
  line L25 (-43.16, 33.391) -> (-42.785, 34.016) projected
  line L26 (-42.785, 34.016) -> (-41.035, 34.016) projected
  line L27 (-41.035, 34.016) -> (-40.66, 33.391) projected
  line L28 (-40.66, 33.391) -> (-40.62, 33.391) projected
  line L29 (-40.62, 33.391) -> (-40.245, 34.016) projected
  line L30 (-40.245, 34.016) -> (-38.495, 34.016) projected
  line L31 (-38.495, 34.016) -> (-38.12, 33.391) projected
  line L32 (-38.12, 33.391) -> (-38.1, 33.391) projected
  line L33 (-38.1, 33.391) -> (-38.1, 32.141) projected
  line L34 (-38.1, 32.141) -> (-38.12, 32.141) projected
  line L35 (-38.12, 32.141) -> (-38.495, 31.516) projected
  line L36 (-38.495, 31.516) -> (-40.245, 31.516) projected
  line L37 (-40.245, 31.516) -> (-40.62, 32.141) projected
  line L38 (-40.62, 32.141) -> (-40.66, 32.141) projected
  line L39 (-40.66, 32.141) -> (-41.035, 31.516) projected
  line L40 (-41.035, 31.516) -> (-42.785, 31.516) projected
  line L41 (-42.785, 31.516) -> (-43.16, 32.141) projected
  line L42 (-43.16, 32.141) -> (-43.2, 32.141) projected
  line L43 (-43.2, 32.141) -> (-43.575, 31.516) projected
  line L44 (-43.575, 31.516) -> (-45.325, 31.516) projected
  line L45 (-45.325, 31.516) -> (-45.7, 32.141) projected
  line L46 (-45.7, 32.141) -> (-45.74, 32.141) projected
  line L47 (-45.74, 32.141) -> (-46.115, 31.516) projected
  line L48 (-46.115, 31.516) -> (-47.865, 31.516) projected
  line L49 (-47.865, 31.516) -> (-48.24, 32.141) projected
  line L50 (-48.24, 32.141) -> (-48.28, 32.141) projected
  line L51 (-48.28, 32.141) -> (-48.655, 31.516) projected
  line L52 (-32.739, 27.509) -> (-33.249, 27.509) projected
  line L53 (-33.249, 27.509) -> (-33.249, 27.519) projected
  line L54 (-33.249, 27.519) -> (-32.739, 27.519) projected
  line L55 (-32.739, 27.519) -> (-32.739, 27.509) projected
  circle A0 centre (-54.61, 31.75) radius 1.0922 projected
  circle A1 centre (-34.29, 2.54) radius 1.0922 projected
  circle A2 centre (-54.61, 2.54) radius 1.0922 projected
  circle A3 centre (-34.29, 31.75) radius 1.0922 projected
  line L56 (-25.4, 50.8) -> (-25.4, 0) projected
  line L57 (-25.4, 0) -> (0, 0) projected
  line L58 (0, 0) -> (0, 50.8) projected
  line L59 (0, 50.8) -> (-25.4, 50.8) projected
  circle A4 centre (-2.667, 48.2148) radius 1.524 projected
  circle A5 centre (-22.733, 48.2148) radius 1.524 projected
  circle A6 centre (-2.667, 2.5852) radius 1.524 projected
  circle A7 centre (-22.733, 2.5852) radius 1.524 projected
  line L60 (-20.32, 41.275) -> (-20.32, 49.022) projected
  line L61 (-20.32, 49.022) -> (-5.08, 49.022) projected
  line L62 (-5.08, 49.022) -> (-5.08, 41.275) projected
  line L63 (-5.08, 41.275) -> (-20.32, 41.275) projected
  line L64 (-20.2946, 10.414) -> (-20.2946, 28.194) projected
  line L65 (-20.2946, 28.194) -> (-5.1054, 28.194) projected
  line L66 (-5.1054, 28.194) -> (-5.1054, 10.414) projected
  line L67 (-5.1054, 10.414) -> (-5.08, 10.414) projected
  line L68 (-5.08, 10.414) -> (-5.08, 2.667) projected
  line L69 (-5.08, 2.667) -> (-20.32, 2.667) projected
  line L70 (-20.32, 2.667) -> (-20.32, 10.414) projected
  line L71 (-20.32, 10.414) -> (-20.2946, 10.414) projected
  line L72 (3.81, 54.61) -> (-5.08, 54.61) projected
  line L73 (-5.08, 54.61) -> (-5.08, 51.435) projected
  line L74 (-5.08, 51.435) -> (0.635, 51.435) projected
  line L75 (0.635, 51.435) -> (0.635, -0.635) projected
  line L76 (0.635, -0.635) -> (-5.08, -0.635) projected
  line L77 (-5.08, -0.635) -> (-5.08, -3.81) projected
  line L78 (-5.08, -3.81) -> (3.81, -3.81) projected
  line L79 (3.81, -3.81) -> (3.81, 54.61) projected
  line L80 (-60.96, -3.81) -> (-51.95, -3.81) projected
  line L81 (-51.95, -3.81) -> (-51.95, -0.635) projected
  line L82 (-51.95, -0.635) -> (-57.785, -0.635) projected
  line L83 (-57.785, -0.635) -> (-57.785, 51.435) projected
  line L84 (-57.785, 51.435) -> (-50.8, 51.435) projected
  line L85 (-50.8, 51.435) -> (-50.8, 54.61) projected
  line L86 (-50.8, 54.61) -> (-60.96, 54.61) projected
  line L87 (-60.96, 54.61) -> (-60.96, -3.81) projected
  line L88 (-60.96, 54.61) -> (-60.96, -3.81) projected
  line L89 (-60.96, 54.61) -> (3.81, 54.61)
  line L90 (3.81, 54.61) -> (3.81, -3.81)
  line L91 (3.81, -3.81) -> (-60.96, -3.81)
  line L92 (-60.96, -3.81) -> (-60.96, 54.61)
extrude "Extrusion4" add sketch "Sketch5" against normal blind 3.175 contours L3 L2 L1 L0 | L4 L5 L6 L7 | L8 L9 L10 L11 L12 L13 L14 L15 L16 L17 L18 L19 L20 L21 L22 L23 L24 L25 L26 L27 L28 L29 L30 L31 L32 L33 L34 L35 L36 L37 L38 L39 L40 L41 L42 L43 L44 L45 L46 L47 L48 L49 L50 L51 | L52 L53 L54 L55 | L59 L58 L57 L56 | L60 L61 L62 L63 | L64 L65 L66 L67 L68 L69 L70 L71 | L79 L78 L77 L76 L75 L74 L73 L72 | L73 L74 L75 L76 L77 L91 L81 L82 L83 L84 L85 L89 | L85 L84 L83 L82 L81 L80 L87 L86
sketch "Sketch6" plane through (0, 0, 25.654) normal (0, 0, 1) x (1, 0, 0)
  line L0 (-20.32, 51.435) -> (-5.08, 51.435)
  line L1 (-5.08, 51.435) -> (-5.08, 45.847)
  line L2 (-5.08, 45.847) -> (-20.32, 45.847)
  line L3 (-20.32, 45.847) -> (-20.32, 51.435)
  line L4 (-20.32, -0.635) -> (-36.95, -0.635) projected
  line L5 (-20.32, -0.635) -> (-5.08, -0.635)
  line L6 (-5.08, -0.635) -> (-5.08, 4.953)
  line L7 (-5.08, 4.953) -> (-20.32, 4.953)
  line L8 (-20.32, 4.953) -> (-20.32, -0.635)
  line L9 (-36.95, -0.635) -> (-51.95, -0.635)
  line L10 (-51.95, -0.635) -> (-51.95, 4.953)
  line L11 (-51.95, 4.953) -> (-36.95, 4.953)
  line L12 (-36.95, 4.953) -> (-36.95, -0.635)
  line L13 (-50.8, 54.61) -> (-60.96, 54.61) projected
  line L14 (-60.96, 54.61) -> (-60.96, -3.81) projected
  line L15 (-5.08, -3.81) -> (3.81, -3.81) projected
  line L16 (3.81, -3.81) -> (3.81, 54.61) projected
  line L17 (3.81, -3.81) -> (-60.96, -3.81) projected
  line L18 (3.81, -3.81) -> (-60.96, -3.81)
  line L19 (-60.96, -3.81) -> (-60.96, 54.61)
  line L20 (-60.96, 54.61) -> (3.81, 54.61)
  line L21 (3.81, 54.61) -> (3.81, -3.81)
  circle A0 centre (-54.61, 31.75) radius 1.0922 projected
  circle A1 centre (-34.29, 31.75) radius 1.0922 projected
  line L22 (-54.61, 31.75) -> (-34.29, 31.75)
  line L23 (-44.45, 31.75) -> (-50.8, 31.75)
  line L24 (-50.8, 31.75) -> (-50.8, 28.956)
  line L25 (-50.8, 28.956) -> (-44.45, 28.956)
  line L26 (-44.45, 28.956) -> (-44.45, 31.75)
  line L27 (-50.8, 28.956) -> (-38.12, 28.956)
  line L28 (-38.12, 28.956) -> (-38.12, 34.544)
  line L29 (-38.12, 34.544) -> (-50.8, 34.544)
  line L30 (-50.8, 34.544) -> (-50.8, 28.956)
  point P0 (0, 0)
  dimension "d11" = 5.588
  dimension "d12" = 5.588
  dimension "d13" = 5.588
  dimension "d14" = 2.794
  dimension "d15" = 5.588
sketch "Sketch7" plane through (0, 0, 0) normal (0, 0, -1) x (-1, 0, 0)
  circle A0 centre (34.29, 31.75) radius 1.0922 projected
  circle A1 centre (54.61, 2.54) radius 1.0922 projected
  circle A2 centre (34.29, 2.54) radius 1.0922 projected
  circle A3 centre (54.61, 31.75) radius 1.0922 projected
  line L0 (-3.81, -3.81) -> (60.96, -3.81) projected
  line L1 (60.96, -3.81) -> (60.96, 54.61) projected
  line L2 (60.96, 54.61) -> (-3.81, 54.61) projected
  line L3 (-3.81, 54.61) -> (-3.81, -3.81) projected
  circle A4 centre (2.667, 48.2148) radius 1.524 projected
  circle A5 centre (22.733, 48.2148) radius 1.524 projected
  circle A6 centre (2.667, 2.5852) radius 1.524 projected
  circle A7 centre (22.733, 2.5852) radius 1.524 projected
  line L4 (57.785, -0.635) -> (-0.635, -0.635)
  line L5 (-0.635, -0.635) -> (-0.635, 51.435)
  line L6 (-0.635, 51.435) -> (57.785, 51.435)
  line L7 (57.785, 51.435) -> (57.785, -0.635)
  line L8 (60.96, -3.81) -> (60.96, 54.61) projected
  line L9 (60.96, 25.4) -> (73.66, 25.4)
  line L10 (73.66, 25.4) -> (73.66, 22.225)
  line L11 (70.485, 19.05) -> (60.96, 19.05)
  line L12 (60.96, 19.05) -> (60.96, 25.4)
  line L13 (73.66, 25.4) -> (60.96, 25.4)
  line L14 (60.96, 25.4) -> (60.96, 30.6578)
  line L15 (60.96, 30.6578) -> (70.485, 30.6578)
  line L16 (73.66, 27.4828) -> (73.66, 25.4)
  line L17 (-3.81, 19.05) -> (-13.335, 19.05)
  line L18 (-16.51, 22.225) -> (-16.51, 28.575)
  line L19 (-13.335, 31.75) -> (-3.81, 31.75)
  line L20 (-3.81, 31.75) -> (-3.81, 19.05)
  circle A8 centre (67.31, 25.4) radius 3.175
  circle A9 centre (-10.16, 25.4) radius 3.175
  arc A10 (70.485, 19.05) -> (73.66, 22.225) centre (70.485, 22.225) ccw
  arc A11 (73.66, 27.4828) -> (70.485, 30.6578) centre (70.485, 27.4828) ccw
  arc A12 (-13.335, 31.75) -> (-16.51, 28.575) centre (-13.335, 28.575) ccw
  arc A13 (-16.51, 22.225) -> (-13.335, 19.05) centre (-13.335, 22.225) ccw
  point P0 (0, 0)
  point P1 (73.66, 19.05)
  point P2 (73.66, 30.6578)
  point P3 (-16.51, 31.75)
  point P4 (-16.51, 19.05)
  dimension "d16" = 3.175
  dimension "d17" = 12.7
  dimension "d18" = 6.35
  dimension "d19" = 12.7
  dimension "d20" = 12.7
  dimension "d21" = 12.7
  dimension "d22" = 6.35
  dimension "d23" = 6.35
  dimension "d24" = 3.175
extrude "Extrusion5" add sketch "Sketch7" along normal blind 3.175 contours L3 L2 L1 L0 | L17 A13 L18 A12 L19 L3 | L1 L9 A8 L10 A10 L11 | L1 L15 A11 L16 L9 A8
fillet "Fillet1" radius 3.175 4 edges at (3.81, 19.05, -1.5875) (3.81, 31.75, -1.5875) (-60.96, 30.6578, -1.5875) (-60.96, 19.05, -1.5875)
properties part number "pololuAndRelayCaseBottom" material "Rubber, Silicone"
